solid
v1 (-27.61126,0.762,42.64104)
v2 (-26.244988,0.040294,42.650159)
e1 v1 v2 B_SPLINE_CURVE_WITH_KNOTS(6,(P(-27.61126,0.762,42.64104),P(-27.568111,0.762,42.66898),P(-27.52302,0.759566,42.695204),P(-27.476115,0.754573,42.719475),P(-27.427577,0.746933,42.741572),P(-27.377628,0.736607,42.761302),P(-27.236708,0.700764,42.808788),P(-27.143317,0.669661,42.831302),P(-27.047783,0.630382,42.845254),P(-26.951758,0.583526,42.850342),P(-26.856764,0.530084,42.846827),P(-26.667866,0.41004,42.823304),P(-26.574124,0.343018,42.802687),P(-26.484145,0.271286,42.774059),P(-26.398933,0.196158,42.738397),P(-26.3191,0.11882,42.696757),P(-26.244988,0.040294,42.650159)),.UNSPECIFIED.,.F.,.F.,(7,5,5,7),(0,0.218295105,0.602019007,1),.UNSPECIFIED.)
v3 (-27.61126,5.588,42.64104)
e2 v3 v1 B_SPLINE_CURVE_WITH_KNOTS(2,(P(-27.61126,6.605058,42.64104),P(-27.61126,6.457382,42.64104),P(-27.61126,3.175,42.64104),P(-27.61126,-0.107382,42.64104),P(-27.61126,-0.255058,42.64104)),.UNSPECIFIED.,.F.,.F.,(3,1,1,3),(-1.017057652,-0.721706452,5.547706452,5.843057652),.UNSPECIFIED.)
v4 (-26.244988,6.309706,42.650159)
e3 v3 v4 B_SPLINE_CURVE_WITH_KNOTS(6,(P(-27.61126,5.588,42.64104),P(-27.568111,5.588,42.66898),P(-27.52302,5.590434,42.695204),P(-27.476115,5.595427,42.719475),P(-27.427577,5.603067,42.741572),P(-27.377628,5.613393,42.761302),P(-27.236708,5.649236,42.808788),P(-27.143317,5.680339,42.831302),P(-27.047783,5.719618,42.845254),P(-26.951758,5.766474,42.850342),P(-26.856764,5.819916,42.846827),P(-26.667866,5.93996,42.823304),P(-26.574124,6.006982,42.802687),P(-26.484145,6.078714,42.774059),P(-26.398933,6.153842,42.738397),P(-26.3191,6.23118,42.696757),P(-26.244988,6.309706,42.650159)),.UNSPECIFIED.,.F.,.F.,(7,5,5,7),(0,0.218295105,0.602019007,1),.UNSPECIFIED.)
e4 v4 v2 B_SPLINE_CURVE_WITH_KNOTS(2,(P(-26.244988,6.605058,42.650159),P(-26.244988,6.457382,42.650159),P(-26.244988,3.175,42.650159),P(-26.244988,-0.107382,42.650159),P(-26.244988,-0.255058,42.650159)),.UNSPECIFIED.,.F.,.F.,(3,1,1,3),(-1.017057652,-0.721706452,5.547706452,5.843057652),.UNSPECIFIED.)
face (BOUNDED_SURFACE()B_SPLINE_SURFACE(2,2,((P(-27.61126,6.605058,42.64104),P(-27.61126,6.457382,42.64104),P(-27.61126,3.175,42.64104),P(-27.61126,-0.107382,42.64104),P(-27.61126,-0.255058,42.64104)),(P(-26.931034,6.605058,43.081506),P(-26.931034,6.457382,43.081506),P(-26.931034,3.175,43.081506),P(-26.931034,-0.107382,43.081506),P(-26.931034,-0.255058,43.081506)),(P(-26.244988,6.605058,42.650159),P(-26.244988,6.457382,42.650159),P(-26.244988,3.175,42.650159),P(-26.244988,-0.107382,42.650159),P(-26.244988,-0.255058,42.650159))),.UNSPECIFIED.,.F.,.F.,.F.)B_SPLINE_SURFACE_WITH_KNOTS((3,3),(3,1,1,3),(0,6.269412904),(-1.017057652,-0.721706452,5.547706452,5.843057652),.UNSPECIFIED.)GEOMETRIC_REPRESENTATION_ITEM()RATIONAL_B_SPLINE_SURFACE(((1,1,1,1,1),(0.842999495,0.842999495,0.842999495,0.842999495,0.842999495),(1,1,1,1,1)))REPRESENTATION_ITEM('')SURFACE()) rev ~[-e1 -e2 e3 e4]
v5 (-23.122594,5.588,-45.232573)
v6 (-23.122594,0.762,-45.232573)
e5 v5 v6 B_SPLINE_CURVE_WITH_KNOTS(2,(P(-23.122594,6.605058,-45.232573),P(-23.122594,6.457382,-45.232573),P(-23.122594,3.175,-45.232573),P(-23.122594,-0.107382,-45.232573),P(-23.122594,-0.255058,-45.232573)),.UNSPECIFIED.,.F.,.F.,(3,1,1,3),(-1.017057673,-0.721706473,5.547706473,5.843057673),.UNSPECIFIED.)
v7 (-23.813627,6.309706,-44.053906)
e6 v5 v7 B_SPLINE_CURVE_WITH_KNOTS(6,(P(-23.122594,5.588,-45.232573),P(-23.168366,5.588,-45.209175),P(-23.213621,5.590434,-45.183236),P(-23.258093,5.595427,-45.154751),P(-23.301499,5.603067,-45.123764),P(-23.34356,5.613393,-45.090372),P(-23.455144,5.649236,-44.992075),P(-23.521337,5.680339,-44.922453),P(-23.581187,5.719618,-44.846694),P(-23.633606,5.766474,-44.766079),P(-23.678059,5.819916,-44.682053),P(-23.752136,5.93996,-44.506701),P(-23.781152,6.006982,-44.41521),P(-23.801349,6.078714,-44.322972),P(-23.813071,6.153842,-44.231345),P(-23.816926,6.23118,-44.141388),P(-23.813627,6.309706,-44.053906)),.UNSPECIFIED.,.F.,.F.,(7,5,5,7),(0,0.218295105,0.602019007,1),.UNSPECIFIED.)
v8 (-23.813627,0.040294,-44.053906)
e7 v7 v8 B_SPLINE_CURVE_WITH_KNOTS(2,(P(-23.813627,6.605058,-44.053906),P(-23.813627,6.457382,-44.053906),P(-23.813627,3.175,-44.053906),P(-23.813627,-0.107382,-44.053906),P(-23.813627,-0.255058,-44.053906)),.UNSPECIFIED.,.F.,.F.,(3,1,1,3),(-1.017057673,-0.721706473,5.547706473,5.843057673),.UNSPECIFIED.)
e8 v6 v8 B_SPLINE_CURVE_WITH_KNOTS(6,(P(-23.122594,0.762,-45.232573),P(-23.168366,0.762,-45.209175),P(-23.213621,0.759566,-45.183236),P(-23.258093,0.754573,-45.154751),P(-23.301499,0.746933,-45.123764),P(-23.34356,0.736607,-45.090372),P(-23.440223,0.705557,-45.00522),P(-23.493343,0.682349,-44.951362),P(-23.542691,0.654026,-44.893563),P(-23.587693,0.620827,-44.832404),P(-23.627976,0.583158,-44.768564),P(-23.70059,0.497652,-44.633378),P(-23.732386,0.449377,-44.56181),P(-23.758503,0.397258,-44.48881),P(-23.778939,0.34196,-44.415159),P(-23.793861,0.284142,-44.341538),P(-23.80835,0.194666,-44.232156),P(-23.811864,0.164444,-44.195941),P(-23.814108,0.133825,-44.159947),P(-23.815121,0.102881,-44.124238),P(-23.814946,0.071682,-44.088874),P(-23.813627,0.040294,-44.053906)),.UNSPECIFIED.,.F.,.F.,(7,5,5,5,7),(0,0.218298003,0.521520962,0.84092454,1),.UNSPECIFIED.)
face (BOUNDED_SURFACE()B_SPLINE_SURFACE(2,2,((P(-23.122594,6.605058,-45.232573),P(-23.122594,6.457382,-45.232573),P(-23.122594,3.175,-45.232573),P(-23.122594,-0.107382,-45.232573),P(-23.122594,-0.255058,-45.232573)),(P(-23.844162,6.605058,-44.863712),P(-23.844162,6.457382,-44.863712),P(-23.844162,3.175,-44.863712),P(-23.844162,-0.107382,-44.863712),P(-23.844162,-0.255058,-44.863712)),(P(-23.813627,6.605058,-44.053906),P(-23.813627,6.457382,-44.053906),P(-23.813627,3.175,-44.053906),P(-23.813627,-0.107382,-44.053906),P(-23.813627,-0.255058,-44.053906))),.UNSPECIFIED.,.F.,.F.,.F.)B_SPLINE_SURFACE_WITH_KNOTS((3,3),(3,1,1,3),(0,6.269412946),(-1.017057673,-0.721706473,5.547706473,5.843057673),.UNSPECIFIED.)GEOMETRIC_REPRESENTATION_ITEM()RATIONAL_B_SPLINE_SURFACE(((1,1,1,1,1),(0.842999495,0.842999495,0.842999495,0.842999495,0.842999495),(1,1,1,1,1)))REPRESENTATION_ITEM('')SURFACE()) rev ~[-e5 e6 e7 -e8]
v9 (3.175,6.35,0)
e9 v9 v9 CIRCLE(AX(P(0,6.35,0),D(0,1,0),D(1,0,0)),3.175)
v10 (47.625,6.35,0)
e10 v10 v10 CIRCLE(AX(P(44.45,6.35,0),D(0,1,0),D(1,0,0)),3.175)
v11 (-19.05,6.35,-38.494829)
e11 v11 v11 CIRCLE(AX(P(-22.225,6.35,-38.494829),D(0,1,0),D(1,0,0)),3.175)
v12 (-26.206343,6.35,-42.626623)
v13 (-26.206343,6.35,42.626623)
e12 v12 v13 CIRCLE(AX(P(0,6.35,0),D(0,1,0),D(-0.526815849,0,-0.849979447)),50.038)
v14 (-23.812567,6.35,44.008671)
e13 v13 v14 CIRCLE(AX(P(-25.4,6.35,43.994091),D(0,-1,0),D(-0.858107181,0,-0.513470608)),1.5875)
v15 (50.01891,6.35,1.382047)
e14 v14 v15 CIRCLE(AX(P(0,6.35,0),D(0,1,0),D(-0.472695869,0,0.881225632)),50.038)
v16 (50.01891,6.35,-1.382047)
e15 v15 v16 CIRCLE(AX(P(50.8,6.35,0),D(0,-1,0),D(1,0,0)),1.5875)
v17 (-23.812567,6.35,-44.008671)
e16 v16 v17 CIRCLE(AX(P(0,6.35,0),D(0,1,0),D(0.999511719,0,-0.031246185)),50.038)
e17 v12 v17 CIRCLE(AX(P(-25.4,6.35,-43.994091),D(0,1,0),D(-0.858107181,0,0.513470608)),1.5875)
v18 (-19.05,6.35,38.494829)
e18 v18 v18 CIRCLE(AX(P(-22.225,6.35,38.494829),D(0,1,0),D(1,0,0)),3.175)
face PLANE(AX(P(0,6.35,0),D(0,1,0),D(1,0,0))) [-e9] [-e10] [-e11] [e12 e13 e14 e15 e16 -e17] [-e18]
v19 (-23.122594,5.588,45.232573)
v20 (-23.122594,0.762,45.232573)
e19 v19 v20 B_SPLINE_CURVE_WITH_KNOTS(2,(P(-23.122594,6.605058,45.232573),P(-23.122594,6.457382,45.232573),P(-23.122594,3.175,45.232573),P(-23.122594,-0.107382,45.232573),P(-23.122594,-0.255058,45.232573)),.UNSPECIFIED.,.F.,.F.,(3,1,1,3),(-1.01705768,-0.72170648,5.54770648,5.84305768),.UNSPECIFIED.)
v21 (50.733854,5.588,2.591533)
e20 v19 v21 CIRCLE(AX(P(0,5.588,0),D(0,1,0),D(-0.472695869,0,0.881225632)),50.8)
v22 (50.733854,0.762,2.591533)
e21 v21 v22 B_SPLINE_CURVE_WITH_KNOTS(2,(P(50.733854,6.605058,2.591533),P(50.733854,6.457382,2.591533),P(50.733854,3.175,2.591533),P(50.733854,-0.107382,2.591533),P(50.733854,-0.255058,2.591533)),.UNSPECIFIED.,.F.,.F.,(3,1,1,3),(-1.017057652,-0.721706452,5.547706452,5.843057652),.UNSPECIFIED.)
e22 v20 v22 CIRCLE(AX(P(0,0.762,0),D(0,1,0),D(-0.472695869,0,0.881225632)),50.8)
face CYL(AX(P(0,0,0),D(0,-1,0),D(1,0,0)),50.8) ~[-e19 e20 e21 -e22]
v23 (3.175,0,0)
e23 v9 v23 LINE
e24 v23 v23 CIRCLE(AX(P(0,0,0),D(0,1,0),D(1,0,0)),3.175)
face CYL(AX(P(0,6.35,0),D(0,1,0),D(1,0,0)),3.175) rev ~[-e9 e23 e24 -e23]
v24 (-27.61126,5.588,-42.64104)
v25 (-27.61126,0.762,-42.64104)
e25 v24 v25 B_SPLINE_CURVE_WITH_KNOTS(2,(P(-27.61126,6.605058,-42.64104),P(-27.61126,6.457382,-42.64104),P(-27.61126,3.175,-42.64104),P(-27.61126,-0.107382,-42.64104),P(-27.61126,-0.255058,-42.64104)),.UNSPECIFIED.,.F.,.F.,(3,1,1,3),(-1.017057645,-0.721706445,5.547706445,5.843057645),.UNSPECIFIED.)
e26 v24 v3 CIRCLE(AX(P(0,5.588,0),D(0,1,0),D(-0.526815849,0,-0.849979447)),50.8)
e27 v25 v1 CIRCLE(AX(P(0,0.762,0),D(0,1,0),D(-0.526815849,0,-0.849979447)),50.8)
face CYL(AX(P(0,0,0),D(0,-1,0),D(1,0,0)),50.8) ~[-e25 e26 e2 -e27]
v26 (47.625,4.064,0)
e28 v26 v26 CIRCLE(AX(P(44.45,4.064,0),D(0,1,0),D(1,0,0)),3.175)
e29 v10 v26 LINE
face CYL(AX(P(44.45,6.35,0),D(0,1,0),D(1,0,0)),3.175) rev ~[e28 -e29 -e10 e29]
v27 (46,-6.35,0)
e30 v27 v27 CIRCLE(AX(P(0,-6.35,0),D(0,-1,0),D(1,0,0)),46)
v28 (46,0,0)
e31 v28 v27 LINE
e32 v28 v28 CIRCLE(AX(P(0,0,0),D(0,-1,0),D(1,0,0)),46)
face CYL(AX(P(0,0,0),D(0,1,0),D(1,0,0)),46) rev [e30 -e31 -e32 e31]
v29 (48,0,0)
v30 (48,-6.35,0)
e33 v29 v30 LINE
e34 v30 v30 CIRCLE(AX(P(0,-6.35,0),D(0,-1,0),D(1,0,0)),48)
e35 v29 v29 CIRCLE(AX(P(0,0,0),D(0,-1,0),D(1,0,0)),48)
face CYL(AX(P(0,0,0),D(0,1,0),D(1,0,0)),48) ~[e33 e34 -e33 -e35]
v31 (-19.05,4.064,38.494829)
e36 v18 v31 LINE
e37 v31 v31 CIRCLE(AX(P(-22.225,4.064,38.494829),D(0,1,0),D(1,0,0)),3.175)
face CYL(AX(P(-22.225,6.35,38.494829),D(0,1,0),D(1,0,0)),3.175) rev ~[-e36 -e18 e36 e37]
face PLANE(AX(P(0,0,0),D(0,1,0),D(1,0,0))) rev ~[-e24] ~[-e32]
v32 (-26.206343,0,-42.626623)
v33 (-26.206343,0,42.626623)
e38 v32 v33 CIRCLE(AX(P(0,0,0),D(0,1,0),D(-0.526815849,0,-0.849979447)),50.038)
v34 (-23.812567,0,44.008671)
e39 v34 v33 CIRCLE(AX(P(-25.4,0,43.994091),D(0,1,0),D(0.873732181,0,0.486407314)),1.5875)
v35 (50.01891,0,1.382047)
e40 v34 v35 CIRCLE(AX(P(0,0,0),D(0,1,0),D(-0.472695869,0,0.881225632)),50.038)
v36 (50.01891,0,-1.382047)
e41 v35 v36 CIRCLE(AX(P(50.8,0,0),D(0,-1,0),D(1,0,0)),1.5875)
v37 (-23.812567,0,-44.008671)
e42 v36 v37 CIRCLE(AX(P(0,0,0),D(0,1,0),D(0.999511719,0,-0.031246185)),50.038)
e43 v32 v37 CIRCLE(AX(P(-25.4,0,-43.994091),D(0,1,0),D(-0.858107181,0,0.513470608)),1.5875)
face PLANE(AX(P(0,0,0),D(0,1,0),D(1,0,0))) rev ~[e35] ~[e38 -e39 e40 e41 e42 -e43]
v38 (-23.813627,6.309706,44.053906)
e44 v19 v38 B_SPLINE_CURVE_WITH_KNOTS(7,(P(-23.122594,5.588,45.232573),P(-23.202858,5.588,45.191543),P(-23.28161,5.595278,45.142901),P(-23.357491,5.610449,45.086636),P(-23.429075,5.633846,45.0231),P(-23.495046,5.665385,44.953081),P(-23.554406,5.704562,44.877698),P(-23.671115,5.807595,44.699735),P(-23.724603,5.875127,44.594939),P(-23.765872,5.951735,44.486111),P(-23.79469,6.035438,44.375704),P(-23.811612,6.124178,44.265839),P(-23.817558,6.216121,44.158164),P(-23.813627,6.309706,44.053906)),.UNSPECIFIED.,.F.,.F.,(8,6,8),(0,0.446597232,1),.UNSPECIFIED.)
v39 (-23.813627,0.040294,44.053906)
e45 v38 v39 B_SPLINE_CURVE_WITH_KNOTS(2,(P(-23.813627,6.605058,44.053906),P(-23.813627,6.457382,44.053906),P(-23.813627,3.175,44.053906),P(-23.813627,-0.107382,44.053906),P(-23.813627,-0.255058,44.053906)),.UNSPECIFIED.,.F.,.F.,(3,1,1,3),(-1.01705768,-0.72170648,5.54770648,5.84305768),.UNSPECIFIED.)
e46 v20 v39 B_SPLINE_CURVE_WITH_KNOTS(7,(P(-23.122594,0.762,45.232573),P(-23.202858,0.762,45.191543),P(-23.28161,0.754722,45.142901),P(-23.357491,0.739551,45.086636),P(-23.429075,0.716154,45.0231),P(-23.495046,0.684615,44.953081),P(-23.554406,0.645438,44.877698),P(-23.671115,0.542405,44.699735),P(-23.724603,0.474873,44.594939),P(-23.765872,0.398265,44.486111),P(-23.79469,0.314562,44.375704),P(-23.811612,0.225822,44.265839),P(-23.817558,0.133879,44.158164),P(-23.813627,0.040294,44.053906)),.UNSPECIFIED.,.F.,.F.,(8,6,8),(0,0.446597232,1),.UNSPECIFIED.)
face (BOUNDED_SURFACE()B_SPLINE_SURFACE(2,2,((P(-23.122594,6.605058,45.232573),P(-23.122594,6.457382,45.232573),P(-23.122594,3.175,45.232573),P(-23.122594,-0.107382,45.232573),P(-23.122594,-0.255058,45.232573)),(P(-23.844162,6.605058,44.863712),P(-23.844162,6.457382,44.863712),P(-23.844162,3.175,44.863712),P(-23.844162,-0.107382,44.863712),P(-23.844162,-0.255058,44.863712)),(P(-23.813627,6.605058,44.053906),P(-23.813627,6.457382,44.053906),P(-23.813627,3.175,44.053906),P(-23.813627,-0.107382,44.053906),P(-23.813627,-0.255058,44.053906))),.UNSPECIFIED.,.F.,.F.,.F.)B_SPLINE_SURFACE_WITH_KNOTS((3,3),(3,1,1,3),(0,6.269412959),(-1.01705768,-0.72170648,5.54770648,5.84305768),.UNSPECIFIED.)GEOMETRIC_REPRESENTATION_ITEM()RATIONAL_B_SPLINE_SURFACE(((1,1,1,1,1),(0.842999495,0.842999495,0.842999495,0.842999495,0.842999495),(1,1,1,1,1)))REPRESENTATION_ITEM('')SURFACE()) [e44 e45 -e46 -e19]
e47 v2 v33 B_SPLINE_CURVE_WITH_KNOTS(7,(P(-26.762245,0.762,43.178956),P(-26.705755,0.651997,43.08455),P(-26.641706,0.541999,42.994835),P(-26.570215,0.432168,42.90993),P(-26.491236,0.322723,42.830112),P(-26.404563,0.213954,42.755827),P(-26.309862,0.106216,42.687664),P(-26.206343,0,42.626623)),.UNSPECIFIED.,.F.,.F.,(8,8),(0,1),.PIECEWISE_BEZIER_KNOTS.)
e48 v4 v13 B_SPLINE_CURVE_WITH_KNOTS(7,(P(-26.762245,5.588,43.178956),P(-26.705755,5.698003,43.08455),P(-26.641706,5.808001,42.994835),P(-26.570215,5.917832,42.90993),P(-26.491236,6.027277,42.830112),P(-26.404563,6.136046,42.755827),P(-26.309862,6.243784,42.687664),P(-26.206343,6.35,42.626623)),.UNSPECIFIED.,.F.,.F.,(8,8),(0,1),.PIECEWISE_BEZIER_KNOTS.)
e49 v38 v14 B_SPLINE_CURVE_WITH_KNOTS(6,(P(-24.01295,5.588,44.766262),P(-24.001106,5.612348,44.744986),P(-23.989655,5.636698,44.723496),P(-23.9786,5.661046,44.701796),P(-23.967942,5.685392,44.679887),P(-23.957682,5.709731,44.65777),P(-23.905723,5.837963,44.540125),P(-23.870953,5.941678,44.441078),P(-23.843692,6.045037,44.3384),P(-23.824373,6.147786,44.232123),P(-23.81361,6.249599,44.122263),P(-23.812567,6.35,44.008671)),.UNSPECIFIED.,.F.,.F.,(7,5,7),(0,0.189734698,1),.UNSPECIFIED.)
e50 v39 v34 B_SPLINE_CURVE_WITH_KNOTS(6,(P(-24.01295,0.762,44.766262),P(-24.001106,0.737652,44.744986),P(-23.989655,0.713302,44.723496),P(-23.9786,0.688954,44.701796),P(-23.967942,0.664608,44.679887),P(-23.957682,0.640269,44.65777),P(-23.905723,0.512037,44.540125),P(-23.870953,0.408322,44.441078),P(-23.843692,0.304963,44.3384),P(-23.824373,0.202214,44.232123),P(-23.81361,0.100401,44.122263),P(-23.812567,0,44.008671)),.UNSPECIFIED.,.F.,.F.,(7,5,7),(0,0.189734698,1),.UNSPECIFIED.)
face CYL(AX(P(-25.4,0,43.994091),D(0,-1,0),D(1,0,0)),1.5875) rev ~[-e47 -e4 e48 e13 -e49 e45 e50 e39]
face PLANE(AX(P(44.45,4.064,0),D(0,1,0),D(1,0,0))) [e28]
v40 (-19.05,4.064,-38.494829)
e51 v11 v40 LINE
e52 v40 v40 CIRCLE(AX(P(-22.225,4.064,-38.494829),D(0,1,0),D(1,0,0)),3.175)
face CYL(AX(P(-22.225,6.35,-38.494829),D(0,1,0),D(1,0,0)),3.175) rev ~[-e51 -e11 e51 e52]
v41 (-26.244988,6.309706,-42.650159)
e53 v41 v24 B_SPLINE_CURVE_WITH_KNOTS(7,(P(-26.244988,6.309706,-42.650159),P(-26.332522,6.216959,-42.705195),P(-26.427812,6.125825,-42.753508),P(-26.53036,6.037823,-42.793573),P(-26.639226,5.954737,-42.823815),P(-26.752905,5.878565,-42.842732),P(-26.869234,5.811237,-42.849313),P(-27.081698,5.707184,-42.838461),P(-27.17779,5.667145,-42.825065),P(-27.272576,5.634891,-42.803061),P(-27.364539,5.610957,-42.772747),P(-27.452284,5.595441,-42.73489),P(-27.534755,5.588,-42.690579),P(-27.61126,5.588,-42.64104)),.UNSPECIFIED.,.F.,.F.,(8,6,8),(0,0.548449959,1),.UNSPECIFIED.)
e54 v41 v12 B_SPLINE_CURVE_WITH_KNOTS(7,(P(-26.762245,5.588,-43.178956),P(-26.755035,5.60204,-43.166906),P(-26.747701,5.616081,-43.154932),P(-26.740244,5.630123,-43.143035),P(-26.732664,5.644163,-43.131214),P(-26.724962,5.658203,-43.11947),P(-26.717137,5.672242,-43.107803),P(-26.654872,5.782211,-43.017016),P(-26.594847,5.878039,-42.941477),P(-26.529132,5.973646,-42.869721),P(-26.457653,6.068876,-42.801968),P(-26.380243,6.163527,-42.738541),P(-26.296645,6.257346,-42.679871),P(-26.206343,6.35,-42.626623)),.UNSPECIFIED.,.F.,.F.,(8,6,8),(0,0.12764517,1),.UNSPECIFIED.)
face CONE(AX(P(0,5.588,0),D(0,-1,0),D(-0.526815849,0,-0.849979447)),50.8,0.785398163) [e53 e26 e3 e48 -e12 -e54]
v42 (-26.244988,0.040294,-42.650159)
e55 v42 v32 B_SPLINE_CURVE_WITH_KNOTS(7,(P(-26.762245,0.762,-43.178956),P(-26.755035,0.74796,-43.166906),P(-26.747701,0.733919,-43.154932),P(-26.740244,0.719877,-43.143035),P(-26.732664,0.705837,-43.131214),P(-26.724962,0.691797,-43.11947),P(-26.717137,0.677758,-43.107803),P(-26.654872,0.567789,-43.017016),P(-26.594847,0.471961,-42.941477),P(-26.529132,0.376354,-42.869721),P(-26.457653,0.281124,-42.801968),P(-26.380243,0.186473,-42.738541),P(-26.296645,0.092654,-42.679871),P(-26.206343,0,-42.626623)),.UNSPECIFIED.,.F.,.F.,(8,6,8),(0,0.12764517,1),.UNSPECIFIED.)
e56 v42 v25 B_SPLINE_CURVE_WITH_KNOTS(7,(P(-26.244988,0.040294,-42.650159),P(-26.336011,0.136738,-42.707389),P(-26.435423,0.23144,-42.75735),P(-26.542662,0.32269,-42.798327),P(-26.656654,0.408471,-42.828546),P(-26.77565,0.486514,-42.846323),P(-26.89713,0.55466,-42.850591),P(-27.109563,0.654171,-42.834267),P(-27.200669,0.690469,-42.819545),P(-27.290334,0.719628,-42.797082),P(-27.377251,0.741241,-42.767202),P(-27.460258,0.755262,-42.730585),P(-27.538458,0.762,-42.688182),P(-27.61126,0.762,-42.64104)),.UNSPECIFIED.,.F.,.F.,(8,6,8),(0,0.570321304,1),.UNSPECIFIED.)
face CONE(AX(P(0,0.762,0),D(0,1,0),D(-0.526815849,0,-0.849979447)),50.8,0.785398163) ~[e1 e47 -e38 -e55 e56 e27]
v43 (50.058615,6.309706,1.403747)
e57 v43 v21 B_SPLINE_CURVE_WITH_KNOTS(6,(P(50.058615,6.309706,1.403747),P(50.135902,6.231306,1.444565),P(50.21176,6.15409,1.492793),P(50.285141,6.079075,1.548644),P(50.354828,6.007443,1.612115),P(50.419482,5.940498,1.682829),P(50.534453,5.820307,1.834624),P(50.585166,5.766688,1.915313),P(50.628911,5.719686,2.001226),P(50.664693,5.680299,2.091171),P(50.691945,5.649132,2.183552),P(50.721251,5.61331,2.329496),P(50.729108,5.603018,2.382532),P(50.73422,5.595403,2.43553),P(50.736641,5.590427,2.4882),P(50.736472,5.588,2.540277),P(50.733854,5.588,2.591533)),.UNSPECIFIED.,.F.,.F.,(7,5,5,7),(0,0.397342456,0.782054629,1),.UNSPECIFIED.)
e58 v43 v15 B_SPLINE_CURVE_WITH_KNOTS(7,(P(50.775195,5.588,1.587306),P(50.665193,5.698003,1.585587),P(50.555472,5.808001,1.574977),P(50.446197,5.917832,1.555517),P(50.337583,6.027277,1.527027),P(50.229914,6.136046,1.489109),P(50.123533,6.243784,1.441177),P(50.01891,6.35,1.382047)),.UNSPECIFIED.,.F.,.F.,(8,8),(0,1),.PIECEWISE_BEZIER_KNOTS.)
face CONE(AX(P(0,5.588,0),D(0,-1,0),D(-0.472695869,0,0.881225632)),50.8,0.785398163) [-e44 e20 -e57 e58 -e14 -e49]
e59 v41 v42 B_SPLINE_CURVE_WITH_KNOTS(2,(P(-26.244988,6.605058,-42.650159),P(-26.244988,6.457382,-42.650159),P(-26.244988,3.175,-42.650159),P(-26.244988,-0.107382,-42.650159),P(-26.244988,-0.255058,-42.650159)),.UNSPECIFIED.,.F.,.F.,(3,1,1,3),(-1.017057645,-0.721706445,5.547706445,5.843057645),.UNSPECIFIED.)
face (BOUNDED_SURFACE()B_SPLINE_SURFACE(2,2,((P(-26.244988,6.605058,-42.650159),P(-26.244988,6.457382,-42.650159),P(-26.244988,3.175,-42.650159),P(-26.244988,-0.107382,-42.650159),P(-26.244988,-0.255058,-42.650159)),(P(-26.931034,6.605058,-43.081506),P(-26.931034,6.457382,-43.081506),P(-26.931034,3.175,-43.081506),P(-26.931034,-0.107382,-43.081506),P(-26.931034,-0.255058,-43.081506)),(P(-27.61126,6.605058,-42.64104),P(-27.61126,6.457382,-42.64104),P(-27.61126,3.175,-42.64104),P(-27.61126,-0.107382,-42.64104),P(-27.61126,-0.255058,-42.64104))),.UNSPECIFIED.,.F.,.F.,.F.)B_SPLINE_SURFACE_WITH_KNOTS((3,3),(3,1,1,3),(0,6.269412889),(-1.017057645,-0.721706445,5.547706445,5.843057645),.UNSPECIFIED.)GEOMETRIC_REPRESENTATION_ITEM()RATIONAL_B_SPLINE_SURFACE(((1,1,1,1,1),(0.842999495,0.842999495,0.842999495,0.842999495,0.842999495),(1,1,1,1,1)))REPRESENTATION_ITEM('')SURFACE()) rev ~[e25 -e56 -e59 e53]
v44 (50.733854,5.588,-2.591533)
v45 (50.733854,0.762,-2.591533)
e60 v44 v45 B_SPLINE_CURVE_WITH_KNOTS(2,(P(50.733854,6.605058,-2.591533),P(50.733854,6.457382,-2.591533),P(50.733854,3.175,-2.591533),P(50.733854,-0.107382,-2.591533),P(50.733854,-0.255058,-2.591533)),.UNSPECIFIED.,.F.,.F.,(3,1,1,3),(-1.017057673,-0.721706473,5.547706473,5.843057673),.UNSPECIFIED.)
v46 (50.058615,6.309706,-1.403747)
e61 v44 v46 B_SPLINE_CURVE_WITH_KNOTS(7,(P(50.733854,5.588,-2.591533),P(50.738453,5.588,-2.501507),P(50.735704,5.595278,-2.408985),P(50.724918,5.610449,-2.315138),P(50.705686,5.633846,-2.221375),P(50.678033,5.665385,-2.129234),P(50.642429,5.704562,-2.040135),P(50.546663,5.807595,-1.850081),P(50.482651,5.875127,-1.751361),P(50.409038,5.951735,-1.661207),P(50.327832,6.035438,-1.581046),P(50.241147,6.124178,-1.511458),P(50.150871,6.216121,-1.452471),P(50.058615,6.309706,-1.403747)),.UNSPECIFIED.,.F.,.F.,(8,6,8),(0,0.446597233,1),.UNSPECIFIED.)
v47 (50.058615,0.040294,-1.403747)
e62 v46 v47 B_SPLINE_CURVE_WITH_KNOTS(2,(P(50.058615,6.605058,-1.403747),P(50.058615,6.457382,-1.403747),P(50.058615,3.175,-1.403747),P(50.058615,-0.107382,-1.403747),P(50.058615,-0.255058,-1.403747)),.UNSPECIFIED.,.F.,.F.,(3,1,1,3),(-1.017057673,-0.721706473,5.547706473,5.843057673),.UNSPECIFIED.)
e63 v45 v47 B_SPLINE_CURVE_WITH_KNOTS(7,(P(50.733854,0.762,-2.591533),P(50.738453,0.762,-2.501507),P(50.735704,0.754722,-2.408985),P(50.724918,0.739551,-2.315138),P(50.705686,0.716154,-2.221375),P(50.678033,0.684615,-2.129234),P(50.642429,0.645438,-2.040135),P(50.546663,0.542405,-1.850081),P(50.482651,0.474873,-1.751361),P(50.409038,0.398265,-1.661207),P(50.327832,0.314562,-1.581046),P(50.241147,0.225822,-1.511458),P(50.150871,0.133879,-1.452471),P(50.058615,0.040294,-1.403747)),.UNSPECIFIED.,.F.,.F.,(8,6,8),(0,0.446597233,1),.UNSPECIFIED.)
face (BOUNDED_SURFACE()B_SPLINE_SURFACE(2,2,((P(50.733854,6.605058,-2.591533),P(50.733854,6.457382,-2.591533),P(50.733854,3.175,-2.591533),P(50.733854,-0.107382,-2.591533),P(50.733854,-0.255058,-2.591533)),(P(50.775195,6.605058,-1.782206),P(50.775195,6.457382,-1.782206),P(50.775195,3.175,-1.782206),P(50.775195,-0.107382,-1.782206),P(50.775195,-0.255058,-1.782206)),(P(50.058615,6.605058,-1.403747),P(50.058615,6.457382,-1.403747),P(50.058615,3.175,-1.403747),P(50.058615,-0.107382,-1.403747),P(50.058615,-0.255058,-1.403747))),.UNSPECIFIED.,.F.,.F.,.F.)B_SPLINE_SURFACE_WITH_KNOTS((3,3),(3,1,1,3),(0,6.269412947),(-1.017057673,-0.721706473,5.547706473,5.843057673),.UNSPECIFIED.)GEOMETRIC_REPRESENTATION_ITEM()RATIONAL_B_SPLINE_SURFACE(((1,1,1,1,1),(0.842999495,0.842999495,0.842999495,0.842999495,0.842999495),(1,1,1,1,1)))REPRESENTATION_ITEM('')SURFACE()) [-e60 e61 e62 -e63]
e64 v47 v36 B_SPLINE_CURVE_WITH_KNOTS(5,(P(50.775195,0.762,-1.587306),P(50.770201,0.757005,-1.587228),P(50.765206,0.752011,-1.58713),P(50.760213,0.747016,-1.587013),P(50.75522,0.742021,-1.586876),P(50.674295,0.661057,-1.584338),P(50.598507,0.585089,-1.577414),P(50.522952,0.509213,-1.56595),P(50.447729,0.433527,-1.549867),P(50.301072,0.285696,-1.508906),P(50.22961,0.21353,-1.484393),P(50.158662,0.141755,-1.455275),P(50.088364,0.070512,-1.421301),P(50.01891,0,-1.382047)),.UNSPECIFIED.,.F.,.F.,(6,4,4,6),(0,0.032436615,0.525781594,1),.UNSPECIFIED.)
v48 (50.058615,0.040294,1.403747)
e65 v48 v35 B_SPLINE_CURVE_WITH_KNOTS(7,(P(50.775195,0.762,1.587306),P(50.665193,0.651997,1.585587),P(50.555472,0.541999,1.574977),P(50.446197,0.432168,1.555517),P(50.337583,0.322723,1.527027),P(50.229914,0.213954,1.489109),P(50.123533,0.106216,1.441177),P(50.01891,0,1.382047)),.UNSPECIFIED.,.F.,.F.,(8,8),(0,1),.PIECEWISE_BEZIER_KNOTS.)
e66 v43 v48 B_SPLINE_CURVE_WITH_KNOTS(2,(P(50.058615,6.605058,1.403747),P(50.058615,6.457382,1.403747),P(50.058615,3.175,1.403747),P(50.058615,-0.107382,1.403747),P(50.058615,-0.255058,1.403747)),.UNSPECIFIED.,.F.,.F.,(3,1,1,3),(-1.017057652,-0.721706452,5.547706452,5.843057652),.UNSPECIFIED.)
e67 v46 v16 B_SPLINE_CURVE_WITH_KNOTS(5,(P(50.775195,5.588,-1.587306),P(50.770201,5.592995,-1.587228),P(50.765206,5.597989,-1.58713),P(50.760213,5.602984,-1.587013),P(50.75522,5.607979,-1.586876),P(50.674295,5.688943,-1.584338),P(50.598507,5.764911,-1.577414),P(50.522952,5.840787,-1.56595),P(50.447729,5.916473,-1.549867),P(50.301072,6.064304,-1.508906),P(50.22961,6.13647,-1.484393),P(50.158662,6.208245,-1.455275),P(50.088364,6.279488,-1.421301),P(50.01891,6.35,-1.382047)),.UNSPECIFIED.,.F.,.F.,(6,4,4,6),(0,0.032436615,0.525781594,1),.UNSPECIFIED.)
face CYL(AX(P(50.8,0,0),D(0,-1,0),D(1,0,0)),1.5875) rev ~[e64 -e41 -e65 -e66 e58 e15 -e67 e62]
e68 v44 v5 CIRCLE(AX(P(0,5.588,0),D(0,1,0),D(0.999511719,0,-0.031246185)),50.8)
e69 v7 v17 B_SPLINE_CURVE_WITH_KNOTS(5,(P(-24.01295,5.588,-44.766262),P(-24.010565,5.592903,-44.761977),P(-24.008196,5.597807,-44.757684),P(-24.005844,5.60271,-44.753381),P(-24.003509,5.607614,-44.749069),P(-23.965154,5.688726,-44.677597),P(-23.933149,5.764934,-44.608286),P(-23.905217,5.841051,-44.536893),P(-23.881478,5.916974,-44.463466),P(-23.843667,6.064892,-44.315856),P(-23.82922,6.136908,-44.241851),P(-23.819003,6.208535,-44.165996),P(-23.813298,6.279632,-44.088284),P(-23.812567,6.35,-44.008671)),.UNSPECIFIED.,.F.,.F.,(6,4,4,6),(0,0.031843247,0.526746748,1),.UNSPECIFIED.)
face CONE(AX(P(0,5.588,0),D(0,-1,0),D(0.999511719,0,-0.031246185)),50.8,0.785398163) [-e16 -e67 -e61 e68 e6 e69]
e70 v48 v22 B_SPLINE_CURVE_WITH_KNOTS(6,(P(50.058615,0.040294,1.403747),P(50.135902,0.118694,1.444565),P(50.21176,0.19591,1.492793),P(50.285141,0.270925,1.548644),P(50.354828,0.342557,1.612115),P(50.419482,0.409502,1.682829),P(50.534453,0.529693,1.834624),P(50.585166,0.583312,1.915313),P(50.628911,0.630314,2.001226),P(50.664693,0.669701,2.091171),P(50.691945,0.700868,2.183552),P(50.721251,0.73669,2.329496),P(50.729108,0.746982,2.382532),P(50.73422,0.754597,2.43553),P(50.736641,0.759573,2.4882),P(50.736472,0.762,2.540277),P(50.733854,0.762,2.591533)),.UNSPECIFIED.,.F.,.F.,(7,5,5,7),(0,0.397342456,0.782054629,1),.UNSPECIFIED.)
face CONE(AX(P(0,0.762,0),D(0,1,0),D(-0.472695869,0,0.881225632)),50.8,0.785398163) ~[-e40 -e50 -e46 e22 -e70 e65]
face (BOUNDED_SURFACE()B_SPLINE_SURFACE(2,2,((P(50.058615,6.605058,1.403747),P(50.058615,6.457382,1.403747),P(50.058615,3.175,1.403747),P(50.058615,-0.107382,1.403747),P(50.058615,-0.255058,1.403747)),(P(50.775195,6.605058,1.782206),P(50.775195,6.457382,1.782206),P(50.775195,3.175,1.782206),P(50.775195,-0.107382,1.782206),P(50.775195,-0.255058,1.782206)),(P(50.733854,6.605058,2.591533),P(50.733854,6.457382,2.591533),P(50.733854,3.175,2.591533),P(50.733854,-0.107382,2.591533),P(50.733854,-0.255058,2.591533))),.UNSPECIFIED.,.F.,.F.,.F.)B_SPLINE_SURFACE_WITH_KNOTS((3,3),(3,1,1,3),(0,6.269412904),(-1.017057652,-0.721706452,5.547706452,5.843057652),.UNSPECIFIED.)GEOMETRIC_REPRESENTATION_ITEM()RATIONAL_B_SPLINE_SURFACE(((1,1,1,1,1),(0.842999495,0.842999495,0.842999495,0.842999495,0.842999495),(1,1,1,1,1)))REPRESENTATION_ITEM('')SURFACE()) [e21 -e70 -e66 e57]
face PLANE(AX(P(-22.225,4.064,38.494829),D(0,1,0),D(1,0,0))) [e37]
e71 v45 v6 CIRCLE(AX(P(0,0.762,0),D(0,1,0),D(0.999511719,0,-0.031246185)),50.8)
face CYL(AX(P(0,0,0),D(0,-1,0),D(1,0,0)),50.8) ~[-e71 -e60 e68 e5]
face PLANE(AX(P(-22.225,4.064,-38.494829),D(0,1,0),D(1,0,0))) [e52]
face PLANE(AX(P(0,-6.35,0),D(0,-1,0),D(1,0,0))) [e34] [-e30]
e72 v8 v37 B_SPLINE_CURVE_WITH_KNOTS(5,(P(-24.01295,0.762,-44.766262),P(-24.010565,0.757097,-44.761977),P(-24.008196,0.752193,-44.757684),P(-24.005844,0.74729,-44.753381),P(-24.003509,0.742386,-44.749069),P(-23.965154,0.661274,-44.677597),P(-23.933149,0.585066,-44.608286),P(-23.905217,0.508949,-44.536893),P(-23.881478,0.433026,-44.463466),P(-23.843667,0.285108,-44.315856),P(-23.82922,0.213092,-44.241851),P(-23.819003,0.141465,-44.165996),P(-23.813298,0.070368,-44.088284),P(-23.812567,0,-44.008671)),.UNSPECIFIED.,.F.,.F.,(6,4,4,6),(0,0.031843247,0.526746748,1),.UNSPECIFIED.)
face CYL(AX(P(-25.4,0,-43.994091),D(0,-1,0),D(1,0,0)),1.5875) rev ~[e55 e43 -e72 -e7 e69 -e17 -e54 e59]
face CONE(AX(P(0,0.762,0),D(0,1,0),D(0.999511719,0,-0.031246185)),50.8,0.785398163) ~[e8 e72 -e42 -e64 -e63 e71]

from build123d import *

# Parameters (mm, degrees)
SKETCH1_R               = 50.8
BOSS_EXTRUDE1_DEPTH     = 6.35
SKETCH2_R               = 3.175
CUT_EXTRUDE1_DEPTH      = 2.286
SKETCH3_R               = 3.175
CUT_EXTRUDE2_DEPTH      = 1
CUT_EXTRUDE2_DEPTH_BACK = 7.35
SKETCH4_R               = 1.5875
CUT_EXTRUDE3_DEPTH      = 7.35
CHAMFER1_SIZE           = 0.762
FILLET1_R               = 1.27
SKETCH5_R               = 48
SKETCH5_R_2             = 46
BOSS_EXTRUDE2_DEPTH     = 6.35


with BuildPart() as part:
    # Sketch1 → Boss-Extrude1 (new body)
    with BuildSketch(Plane(origin=(0, 0, 0), x_dir=(1, 0, 0), z_dir=(0, 1, 0))):
        Circle(SKETCH1_R)
    extrude(amount=BOSS_EXTRUDE1_DEPTH)

    # Sketch2 → Cut-Extrude1 (cut)
    with BuildSketch(Plane(origin=(0, 6.35, 0), x_dir=(1, 0, 0), z_dir=(0, 1, 0))):
        with Locations((-22.225, -38.494829198)):
            Circle(SKETCH2_R)
        with Locations((-22.225, 38.494829198)):
            Circle(SKETCH2_R)
        with Locations((44.45, 0)):
            Circle(SKETCH2_R)
    extrude(amount=-CUT_EXTRUDE1_DEPTH, mode=Mode.SUBTRACT)

    # Sketch3 → Cut-Extrude2 (cut, two sides)
    with BuildSketch(Plane(origin=(0, 6.35, 0), x_dir=(1, 0, 0), z_dir=(0, 1, 0))) as cut_extrude2_sk:
        Circle(SKETCH3_R)
    extrude(amount=CUT_EXTRUDE2_DEPTH, mode=Mode.SUBTRACT)
    extrude(cut_extrude2_sk.sketch, amount=-CUT_EXTRUDE2_DEPTH_BACK, mode=Mode.SUBTRACT)

    # Sketch4 → Cut-Extrude3 (cut, through all)
    with BuildSketch(Plane.XZ):
        with Locations((50.8, 0)):
            Circle(SKETCH4_R)
        with Locations((-25.4, 43.994090512)):
            Circle(SKETCH4_R)
        with Locations((-25.4, -43.994090512)):
            Circle(SKETCH4_R)
    extrude(amount=-CUT_EXTRUDE3_DEPTH, mode=Mode.SUBTRACT)

    # Chamfer1
    chamfer1_edges = [part.edges().sort_by_distance(p)[0] for p in [
        (25.4, 0, -43.994090512),
        (-50.8, 0, 0),
        (25.4, 0, 43.994090512),
        (25.4, 6.35, -43.994090512),
        (-50.8, 6.35, 0),
        (25.4, 6.35, 43.994090512),
    ]]
    chamfer(chamfer1_edges, length=CHAMFER1_SIZE)

    # Fillet1
    fillet1_edges = [part.edges().sort_by_distance(p)[0] for p in [
        (-24.012950162, 3.175, 44.766262124),
        (-26.76224515, 3.175, 43.178955922),
        (50.775195313, 3.175, -1.587306202),
        (50.775195313, 3.175, 1.587306202),
        (-24.012950162, 3.175, -44.766262124),
        (-26.76224515, 3.175, -43.178955922),
    ]]
    fillet(fillet1_edges, radius=FILLET1_R)

    # Sketch5 → Boss-Extrude2 (add)
    with BuildSketch(Plane.XZ):
        Circle(SKETCH5_R)
        Circle(SKETCH5_R_2, mode=Mode.SUBTRACT)
    extrude(amount=BOSS_EXTRUDE2_DEPTH)


solid = part.part
